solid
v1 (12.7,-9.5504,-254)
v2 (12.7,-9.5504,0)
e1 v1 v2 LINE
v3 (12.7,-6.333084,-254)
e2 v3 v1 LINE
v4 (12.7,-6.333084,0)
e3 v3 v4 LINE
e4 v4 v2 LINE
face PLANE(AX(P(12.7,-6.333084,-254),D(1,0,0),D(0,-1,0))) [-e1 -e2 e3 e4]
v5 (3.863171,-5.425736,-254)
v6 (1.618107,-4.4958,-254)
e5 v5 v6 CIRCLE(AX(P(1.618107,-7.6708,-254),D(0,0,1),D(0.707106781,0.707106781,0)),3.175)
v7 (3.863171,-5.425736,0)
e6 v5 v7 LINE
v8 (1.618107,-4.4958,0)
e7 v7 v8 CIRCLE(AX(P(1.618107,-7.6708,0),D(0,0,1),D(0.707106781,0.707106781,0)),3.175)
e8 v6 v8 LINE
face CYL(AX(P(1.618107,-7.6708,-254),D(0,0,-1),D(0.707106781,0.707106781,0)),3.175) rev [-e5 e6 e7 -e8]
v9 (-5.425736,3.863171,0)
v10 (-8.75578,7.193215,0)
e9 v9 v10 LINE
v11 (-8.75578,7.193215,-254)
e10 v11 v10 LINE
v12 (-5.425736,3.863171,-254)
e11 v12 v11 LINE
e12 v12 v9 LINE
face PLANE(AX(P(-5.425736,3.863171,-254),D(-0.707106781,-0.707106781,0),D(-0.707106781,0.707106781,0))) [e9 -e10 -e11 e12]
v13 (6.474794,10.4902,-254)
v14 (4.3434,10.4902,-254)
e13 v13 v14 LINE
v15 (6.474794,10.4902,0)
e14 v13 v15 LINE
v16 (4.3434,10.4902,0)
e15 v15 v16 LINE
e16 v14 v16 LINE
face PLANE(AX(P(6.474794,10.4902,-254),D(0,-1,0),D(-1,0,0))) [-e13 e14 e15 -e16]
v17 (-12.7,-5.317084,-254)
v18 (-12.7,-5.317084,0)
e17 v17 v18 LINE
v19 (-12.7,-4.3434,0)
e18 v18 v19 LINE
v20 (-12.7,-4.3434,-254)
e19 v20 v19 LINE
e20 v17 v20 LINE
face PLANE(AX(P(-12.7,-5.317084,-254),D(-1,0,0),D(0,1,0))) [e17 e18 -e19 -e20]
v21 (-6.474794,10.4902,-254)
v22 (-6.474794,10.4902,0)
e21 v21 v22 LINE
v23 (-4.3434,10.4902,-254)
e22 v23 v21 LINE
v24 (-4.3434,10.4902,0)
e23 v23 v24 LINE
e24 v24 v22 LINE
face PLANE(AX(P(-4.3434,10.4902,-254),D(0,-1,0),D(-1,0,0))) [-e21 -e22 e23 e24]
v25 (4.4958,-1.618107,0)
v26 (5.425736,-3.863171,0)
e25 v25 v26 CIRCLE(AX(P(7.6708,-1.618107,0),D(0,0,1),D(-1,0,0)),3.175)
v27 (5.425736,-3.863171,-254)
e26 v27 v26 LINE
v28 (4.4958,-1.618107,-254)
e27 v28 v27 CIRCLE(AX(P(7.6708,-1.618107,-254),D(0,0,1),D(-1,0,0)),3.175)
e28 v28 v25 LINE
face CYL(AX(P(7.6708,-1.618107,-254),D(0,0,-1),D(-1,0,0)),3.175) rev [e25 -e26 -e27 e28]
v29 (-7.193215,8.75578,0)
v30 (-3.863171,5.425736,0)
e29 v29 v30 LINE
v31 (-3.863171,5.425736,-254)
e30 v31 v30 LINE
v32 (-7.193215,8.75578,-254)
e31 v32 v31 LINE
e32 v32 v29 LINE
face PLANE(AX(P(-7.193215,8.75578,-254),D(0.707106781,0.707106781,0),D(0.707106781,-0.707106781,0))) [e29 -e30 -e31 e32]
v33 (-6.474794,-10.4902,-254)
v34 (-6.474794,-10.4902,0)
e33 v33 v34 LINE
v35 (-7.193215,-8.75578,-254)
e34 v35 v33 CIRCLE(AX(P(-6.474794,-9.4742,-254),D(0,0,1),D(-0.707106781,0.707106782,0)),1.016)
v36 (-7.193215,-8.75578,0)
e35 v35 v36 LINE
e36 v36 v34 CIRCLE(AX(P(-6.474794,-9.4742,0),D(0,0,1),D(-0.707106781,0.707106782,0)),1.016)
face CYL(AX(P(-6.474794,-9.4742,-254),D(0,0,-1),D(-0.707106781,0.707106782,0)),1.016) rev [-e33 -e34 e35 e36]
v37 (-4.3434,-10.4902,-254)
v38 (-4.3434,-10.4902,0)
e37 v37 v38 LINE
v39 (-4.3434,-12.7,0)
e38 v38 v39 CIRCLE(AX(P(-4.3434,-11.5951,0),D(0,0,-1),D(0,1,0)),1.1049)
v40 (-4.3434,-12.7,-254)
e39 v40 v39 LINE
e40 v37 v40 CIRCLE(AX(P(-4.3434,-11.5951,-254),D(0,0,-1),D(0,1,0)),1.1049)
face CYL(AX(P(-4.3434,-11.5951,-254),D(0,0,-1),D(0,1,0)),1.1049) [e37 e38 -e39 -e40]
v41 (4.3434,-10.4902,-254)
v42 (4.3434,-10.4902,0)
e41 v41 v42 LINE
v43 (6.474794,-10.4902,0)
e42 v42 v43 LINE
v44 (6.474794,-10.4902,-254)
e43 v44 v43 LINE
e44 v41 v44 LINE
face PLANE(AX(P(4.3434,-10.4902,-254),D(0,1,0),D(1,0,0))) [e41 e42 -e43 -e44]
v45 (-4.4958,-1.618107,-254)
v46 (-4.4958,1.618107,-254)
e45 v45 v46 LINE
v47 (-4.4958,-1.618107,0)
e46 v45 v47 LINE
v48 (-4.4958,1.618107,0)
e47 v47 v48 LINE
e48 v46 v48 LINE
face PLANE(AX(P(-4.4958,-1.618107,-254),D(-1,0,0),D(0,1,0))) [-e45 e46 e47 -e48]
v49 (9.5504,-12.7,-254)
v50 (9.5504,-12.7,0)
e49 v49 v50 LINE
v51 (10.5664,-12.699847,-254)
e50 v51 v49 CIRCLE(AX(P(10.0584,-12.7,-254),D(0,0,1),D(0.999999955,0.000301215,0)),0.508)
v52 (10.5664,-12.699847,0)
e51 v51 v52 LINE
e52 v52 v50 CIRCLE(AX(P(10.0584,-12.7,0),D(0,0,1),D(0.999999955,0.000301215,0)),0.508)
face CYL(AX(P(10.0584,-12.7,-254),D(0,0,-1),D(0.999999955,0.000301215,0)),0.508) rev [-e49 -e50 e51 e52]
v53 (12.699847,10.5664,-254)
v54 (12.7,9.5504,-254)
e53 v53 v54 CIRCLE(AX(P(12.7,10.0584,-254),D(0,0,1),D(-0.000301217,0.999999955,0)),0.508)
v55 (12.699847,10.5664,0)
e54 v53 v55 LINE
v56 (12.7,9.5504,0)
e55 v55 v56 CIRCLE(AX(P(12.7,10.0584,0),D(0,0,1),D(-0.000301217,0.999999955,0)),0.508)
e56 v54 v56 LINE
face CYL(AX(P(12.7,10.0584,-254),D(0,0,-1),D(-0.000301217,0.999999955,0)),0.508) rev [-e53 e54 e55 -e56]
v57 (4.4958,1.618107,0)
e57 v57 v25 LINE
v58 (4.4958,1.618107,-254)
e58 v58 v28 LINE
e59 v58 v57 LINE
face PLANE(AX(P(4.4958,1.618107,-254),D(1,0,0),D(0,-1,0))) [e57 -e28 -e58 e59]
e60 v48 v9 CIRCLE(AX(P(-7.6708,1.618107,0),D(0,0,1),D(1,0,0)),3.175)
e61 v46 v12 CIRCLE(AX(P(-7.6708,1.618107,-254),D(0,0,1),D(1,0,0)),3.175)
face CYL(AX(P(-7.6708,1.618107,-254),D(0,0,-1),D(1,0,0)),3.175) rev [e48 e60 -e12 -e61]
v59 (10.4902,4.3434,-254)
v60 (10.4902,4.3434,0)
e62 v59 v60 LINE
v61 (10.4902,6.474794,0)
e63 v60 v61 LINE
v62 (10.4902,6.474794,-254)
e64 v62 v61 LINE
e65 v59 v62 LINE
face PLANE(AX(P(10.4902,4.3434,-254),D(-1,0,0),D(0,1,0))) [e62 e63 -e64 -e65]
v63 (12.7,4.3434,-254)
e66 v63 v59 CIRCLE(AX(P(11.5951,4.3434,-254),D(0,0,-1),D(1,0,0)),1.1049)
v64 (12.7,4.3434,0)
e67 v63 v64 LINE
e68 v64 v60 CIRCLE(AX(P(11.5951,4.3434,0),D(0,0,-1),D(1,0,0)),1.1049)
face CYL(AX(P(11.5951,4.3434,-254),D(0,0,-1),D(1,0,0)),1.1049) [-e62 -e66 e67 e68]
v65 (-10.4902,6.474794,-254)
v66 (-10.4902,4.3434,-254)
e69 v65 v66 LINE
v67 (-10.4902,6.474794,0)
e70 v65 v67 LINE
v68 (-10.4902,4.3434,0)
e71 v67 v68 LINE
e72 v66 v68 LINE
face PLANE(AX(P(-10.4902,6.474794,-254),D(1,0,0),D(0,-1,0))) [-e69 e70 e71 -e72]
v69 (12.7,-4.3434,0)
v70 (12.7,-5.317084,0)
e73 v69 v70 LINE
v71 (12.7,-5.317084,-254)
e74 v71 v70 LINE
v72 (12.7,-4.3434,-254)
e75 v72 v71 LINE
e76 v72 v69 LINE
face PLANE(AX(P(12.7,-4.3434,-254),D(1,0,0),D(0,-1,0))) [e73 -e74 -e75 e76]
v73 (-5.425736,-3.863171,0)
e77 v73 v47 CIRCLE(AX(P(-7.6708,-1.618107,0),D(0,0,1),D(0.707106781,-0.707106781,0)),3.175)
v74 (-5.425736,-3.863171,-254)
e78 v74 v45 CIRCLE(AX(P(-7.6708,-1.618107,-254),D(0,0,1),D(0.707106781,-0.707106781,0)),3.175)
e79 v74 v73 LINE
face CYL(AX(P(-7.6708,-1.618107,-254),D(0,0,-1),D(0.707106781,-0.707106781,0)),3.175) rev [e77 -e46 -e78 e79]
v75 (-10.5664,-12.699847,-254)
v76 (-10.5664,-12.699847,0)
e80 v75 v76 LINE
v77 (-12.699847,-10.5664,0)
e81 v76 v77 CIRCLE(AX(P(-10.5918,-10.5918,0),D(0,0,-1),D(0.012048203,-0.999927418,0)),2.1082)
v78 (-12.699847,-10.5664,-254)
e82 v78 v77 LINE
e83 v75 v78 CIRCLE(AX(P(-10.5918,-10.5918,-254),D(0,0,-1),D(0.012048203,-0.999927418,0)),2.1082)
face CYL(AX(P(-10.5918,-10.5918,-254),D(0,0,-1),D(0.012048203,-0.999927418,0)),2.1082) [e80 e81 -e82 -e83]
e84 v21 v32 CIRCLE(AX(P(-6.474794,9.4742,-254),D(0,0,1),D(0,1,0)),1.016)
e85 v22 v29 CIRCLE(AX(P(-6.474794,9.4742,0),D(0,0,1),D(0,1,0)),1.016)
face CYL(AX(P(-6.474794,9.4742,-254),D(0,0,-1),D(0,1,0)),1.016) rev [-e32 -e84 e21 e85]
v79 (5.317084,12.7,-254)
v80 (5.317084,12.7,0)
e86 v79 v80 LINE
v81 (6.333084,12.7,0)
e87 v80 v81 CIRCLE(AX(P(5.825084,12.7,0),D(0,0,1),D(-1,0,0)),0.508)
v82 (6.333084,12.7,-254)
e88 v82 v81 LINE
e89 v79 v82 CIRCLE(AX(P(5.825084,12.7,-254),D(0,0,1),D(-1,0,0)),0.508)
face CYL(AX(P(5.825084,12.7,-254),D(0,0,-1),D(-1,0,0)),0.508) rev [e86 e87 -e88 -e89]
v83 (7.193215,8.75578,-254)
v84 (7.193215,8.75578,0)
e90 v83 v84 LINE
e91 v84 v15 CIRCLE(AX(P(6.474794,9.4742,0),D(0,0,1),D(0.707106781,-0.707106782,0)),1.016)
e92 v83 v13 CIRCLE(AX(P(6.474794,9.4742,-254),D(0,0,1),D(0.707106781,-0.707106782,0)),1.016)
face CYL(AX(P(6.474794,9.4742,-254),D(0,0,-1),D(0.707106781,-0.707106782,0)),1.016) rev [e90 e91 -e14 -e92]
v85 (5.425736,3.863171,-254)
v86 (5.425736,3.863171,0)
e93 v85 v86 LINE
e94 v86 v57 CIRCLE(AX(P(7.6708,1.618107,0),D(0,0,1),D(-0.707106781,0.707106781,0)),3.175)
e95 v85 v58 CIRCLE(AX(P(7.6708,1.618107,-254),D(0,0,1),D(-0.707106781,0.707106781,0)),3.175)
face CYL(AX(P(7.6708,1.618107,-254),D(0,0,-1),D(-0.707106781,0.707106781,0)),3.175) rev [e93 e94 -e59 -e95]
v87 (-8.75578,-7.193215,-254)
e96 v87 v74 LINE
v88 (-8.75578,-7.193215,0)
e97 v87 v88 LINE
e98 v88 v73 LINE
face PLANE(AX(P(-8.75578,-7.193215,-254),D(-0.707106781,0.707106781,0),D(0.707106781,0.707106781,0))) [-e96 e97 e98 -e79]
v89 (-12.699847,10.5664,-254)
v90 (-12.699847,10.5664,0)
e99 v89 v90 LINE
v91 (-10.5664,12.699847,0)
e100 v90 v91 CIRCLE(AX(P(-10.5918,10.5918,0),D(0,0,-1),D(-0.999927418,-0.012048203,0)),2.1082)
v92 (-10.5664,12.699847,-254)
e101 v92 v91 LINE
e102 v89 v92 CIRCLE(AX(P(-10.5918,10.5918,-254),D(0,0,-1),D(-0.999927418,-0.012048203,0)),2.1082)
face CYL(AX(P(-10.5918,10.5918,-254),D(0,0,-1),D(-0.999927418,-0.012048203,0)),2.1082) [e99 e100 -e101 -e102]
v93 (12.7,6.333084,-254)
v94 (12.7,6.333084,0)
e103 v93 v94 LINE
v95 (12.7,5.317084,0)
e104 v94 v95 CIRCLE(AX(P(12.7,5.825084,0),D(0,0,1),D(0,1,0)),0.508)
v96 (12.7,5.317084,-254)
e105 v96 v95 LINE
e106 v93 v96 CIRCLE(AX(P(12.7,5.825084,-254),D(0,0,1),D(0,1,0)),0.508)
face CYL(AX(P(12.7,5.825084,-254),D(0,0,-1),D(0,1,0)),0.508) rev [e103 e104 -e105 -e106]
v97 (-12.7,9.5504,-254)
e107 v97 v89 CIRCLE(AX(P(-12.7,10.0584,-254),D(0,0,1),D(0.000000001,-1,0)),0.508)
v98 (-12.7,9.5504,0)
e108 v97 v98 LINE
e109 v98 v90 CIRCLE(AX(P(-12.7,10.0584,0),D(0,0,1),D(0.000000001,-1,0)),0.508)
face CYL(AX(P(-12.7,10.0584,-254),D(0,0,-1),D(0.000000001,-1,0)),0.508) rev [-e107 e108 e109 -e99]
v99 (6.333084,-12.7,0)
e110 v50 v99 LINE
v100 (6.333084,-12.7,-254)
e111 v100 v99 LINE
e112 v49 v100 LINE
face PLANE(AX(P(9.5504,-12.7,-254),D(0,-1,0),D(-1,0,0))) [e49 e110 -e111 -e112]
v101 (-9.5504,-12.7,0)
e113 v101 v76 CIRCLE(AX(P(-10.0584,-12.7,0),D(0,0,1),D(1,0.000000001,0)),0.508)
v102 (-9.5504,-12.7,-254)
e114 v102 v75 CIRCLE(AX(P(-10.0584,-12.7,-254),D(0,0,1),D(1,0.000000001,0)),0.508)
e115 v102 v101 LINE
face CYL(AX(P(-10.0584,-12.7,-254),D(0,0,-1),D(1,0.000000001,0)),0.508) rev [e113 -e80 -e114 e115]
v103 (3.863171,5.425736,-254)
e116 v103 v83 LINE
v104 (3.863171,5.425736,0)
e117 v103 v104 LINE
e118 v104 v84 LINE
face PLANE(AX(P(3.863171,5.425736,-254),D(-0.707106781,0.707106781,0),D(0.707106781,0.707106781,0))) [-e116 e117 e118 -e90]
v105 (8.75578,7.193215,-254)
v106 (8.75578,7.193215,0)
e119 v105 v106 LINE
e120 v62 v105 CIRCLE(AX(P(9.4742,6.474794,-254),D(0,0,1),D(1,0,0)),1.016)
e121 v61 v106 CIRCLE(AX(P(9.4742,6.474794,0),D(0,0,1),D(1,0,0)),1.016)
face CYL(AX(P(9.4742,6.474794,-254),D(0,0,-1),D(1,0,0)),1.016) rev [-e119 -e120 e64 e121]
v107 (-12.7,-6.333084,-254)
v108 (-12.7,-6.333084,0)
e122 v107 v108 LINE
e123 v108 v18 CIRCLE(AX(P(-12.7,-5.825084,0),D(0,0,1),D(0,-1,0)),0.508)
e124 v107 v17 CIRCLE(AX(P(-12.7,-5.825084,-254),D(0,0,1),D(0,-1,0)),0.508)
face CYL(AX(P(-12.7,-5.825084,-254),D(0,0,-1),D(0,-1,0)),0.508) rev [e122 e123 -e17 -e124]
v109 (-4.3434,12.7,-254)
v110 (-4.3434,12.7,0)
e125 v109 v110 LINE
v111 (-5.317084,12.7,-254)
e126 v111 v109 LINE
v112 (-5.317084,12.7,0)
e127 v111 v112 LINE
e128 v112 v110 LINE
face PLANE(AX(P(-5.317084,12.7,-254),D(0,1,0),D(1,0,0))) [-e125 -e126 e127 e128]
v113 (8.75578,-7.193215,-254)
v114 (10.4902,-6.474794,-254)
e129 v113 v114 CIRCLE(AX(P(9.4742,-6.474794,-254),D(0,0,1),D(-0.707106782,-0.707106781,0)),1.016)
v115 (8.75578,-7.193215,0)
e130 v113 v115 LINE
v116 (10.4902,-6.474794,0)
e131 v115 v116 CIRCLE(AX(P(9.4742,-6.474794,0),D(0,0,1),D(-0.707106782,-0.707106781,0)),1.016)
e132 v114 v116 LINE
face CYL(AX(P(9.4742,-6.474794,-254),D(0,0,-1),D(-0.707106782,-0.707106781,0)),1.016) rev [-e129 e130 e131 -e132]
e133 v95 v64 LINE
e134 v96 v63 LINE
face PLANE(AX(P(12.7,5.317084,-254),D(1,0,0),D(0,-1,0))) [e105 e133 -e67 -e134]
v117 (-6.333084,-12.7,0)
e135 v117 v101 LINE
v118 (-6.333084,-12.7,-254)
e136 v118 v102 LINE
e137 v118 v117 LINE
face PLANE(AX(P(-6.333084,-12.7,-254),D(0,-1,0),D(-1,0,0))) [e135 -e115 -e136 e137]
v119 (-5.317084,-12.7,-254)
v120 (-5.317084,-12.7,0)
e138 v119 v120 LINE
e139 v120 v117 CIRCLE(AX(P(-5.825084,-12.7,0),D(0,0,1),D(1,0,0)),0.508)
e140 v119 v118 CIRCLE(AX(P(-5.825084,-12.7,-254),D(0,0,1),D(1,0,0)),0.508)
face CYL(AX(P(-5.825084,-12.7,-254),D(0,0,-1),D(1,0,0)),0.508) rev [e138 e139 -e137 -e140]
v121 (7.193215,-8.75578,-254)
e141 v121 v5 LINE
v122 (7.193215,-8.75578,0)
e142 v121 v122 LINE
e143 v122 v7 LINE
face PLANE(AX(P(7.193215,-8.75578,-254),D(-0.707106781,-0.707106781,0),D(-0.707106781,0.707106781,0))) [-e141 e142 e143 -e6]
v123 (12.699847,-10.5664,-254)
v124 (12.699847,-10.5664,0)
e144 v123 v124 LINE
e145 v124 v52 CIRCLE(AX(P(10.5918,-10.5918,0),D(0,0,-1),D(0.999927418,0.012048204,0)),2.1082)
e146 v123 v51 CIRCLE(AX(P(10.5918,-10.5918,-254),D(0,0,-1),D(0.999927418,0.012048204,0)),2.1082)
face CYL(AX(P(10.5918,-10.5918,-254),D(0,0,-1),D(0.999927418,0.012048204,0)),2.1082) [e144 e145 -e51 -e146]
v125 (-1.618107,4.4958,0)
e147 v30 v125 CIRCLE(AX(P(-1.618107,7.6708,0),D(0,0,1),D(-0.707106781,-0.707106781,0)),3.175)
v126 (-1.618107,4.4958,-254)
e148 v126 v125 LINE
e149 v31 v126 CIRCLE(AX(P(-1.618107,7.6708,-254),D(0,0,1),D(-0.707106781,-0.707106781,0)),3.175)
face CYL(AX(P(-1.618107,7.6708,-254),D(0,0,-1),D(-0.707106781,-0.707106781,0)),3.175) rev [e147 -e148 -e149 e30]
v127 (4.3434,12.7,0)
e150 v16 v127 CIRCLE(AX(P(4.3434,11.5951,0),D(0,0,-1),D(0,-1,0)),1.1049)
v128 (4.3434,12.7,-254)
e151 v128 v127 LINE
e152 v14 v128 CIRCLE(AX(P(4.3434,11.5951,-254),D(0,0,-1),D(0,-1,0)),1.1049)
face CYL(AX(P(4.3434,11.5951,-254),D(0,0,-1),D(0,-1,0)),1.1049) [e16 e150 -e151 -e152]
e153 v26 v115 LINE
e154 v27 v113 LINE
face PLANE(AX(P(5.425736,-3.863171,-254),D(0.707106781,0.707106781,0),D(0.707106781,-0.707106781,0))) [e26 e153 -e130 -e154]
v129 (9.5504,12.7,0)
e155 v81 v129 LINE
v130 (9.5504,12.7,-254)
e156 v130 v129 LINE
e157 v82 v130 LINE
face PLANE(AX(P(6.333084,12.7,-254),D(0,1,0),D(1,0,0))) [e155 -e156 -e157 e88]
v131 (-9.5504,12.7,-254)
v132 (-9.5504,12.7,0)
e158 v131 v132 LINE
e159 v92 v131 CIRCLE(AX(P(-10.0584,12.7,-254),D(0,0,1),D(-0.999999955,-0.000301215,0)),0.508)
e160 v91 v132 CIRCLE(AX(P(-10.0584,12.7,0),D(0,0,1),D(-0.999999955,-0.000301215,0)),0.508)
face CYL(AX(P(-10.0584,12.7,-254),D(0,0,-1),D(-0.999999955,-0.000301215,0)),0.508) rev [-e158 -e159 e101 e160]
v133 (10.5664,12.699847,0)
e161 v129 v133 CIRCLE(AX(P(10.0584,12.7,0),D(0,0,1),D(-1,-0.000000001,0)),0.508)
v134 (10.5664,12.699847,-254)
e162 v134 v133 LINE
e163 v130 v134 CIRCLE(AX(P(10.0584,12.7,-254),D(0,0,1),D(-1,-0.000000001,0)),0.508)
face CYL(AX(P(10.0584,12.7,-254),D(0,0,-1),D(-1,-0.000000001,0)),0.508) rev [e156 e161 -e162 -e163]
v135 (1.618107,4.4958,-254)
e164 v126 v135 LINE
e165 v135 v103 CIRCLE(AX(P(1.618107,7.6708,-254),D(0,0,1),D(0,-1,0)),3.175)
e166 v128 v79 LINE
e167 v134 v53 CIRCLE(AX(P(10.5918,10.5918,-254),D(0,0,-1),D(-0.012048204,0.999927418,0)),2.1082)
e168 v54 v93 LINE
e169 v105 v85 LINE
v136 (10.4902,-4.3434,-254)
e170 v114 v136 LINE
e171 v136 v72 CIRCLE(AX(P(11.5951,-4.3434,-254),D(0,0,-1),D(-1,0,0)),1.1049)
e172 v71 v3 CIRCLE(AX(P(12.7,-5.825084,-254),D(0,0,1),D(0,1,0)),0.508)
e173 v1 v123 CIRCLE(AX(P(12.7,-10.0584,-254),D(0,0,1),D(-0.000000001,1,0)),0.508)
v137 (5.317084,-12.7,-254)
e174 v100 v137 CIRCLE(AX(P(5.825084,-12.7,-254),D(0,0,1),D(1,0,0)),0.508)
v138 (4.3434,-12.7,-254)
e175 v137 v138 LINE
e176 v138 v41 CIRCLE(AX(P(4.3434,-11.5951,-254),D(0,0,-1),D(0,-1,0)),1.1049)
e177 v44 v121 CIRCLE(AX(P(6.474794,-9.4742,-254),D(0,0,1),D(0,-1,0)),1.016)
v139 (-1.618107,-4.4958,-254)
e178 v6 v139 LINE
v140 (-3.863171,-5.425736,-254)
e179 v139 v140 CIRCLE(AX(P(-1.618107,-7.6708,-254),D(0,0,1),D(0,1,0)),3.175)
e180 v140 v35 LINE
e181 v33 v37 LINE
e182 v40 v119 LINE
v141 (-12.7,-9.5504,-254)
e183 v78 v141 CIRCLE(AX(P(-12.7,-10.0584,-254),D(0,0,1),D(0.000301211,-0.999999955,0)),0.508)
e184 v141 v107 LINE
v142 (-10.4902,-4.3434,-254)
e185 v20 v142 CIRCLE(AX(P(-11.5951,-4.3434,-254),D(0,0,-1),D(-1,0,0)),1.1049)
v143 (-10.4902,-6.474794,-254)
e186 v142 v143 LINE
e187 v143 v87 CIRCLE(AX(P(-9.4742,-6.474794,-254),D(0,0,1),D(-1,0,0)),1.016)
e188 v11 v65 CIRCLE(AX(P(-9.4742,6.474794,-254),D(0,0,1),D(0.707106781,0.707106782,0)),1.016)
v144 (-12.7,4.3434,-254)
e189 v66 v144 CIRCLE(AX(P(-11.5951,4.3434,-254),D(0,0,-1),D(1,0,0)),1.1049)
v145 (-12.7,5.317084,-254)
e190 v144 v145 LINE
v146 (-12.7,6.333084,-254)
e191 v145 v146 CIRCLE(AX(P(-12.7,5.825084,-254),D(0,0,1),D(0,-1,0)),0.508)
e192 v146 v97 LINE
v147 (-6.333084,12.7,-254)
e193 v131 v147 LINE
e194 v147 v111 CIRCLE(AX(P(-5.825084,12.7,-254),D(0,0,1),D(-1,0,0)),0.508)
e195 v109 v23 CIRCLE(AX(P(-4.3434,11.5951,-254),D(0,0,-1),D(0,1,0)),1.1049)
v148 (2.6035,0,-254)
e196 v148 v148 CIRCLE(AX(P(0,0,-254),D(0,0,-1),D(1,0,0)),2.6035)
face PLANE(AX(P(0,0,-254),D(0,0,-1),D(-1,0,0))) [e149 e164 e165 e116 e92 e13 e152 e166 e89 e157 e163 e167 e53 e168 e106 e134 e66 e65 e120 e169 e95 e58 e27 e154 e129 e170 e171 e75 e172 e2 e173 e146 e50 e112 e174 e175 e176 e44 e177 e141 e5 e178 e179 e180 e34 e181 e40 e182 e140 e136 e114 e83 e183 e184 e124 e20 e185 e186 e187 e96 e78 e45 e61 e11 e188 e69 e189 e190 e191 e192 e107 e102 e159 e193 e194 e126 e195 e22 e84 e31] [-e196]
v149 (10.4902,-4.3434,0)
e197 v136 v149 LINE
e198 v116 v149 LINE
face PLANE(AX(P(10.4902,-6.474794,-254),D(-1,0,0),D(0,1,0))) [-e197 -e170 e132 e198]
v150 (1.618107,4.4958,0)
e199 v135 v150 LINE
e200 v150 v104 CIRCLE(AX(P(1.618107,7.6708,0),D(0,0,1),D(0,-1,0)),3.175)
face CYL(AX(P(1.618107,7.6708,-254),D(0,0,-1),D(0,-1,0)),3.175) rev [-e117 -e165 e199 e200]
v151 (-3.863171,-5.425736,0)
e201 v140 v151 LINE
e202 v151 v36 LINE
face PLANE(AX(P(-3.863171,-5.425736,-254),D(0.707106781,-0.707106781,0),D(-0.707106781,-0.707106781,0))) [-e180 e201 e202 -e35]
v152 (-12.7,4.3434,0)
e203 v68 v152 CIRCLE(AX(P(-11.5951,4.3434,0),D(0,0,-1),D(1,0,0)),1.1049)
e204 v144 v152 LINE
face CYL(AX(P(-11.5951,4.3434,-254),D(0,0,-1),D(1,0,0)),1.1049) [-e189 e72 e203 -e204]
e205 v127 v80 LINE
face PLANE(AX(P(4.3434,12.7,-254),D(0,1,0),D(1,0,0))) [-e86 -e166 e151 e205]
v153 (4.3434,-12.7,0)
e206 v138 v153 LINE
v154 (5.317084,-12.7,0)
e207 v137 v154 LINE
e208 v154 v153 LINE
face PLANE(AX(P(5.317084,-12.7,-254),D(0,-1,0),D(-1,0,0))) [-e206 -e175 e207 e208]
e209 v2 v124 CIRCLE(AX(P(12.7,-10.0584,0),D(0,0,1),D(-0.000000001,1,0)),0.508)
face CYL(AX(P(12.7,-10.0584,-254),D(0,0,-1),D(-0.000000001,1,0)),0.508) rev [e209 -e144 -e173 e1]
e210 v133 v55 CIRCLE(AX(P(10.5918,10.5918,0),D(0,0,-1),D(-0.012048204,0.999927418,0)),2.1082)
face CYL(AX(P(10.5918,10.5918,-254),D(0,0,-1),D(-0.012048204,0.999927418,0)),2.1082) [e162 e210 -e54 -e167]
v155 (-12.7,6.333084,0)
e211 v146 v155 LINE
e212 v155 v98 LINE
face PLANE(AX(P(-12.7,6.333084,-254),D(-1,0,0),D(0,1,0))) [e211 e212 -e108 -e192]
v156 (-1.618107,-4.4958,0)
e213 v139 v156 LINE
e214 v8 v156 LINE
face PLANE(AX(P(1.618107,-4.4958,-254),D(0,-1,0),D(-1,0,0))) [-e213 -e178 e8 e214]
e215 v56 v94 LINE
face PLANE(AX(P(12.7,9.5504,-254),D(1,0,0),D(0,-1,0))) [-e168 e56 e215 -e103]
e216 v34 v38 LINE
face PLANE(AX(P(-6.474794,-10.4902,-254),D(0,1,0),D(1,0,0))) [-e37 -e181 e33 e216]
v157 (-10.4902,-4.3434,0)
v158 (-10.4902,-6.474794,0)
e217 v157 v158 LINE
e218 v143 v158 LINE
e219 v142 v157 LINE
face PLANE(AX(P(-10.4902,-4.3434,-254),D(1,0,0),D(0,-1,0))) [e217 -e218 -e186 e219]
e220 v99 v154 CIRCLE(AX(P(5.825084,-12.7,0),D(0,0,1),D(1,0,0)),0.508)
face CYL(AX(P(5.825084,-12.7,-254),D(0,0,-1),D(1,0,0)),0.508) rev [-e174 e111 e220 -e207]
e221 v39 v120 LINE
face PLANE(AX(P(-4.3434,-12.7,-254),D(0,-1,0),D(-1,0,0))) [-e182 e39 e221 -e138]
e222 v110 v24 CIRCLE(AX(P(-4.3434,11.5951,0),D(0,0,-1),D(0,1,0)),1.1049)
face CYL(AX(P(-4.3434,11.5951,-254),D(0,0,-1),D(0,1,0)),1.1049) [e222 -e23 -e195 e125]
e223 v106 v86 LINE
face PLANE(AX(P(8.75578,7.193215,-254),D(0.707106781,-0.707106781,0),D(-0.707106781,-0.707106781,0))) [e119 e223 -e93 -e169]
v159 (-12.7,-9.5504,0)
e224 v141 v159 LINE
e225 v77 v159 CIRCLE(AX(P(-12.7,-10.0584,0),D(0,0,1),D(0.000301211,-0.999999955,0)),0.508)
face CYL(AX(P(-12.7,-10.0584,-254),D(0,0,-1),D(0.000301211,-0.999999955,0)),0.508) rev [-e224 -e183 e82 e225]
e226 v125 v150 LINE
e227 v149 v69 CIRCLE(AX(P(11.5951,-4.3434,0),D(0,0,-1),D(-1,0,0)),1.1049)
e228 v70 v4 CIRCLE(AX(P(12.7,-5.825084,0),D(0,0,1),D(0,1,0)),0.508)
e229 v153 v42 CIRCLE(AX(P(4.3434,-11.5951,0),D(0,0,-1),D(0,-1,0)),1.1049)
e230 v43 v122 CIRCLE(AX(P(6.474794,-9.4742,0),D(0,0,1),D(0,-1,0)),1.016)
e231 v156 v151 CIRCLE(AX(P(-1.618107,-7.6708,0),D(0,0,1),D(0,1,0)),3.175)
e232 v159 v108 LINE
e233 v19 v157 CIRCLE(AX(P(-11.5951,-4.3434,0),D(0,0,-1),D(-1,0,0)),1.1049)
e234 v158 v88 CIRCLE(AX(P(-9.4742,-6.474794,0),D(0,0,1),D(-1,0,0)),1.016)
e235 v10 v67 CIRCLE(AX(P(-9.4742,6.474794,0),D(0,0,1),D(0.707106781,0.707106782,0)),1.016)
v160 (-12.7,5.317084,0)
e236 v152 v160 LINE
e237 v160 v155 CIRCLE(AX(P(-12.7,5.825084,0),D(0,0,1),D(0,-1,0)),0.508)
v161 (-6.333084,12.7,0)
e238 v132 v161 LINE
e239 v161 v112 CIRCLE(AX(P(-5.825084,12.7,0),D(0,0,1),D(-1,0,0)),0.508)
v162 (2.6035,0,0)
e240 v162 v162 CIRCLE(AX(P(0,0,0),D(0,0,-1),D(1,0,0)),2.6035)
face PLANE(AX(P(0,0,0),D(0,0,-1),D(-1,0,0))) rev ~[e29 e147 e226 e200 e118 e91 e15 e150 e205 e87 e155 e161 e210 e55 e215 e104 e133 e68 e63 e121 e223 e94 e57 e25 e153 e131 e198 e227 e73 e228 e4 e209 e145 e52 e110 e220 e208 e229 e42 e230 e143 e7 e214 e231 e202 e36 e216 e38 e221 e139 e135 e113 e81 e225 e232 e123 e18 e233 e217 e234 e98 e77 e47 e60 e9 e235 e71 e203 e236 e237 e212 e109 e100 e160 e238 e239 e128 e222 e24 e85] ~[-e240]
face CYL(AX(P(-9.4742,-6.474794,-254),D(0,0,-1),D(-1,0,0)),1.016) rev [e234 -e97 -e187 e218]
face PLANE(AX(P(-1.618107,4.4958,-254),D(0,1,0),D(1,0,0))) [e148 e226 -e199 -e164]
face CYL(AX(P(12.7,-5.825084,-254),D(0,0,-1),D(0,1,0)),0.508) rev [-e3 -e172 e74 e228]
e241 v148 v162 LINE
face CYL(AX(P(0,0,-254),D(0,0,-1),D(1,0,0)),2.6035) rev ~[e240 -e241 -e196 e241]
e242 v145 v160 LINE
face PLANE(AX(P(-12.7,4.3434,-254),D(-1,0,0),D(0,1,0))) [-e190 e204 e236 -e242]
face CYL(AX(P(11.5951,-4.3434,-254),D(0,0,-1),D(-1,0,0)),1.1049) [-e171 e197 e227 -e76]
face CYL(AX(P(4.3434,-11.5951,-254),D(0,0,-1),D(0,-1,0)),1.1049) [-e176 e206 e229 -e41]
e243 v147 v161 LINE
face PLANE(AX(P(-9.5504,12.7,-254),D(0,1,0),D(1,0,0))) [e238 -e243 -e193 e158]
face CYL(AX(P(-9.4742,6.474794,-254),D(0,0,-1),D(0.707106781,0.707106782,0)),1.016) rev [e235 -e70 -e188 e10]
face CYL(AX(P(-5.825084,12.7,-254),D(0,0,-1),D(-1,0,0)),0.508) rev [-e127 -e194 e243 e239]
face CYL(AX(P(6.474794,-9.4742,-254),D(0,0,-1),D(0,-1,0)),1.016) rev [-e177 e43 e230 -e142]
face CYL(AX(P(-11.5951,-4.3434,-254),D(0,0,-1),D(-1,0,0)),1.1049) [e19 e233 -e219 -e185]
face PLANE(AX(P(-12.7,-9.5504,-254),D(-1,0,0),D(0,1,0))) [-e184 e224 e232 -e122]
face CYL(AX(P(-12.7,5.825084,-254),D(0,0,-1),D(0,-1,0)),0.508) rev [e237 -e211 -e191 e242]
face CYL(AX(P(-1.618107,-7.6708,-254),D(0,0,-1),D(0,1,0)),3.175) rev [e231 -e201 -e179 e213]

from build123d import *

# Parameters (mm, degrees)
SKETCH1_R           = 2.6035
BOSS_EXTRUDE1_DEPTH = 254


with BuildPart() as part:
    # Sketch1 → Boss-Extrude1 (new body)
    with BuildSketch(Plane(origin=(0, 0, -254), x_dir=(-1, 0, 0), z_dir=(0, 0, -1))):
        with BuildLine():
            Line((12.700000001, -9.550399995), (12.700000001, -6.333083598))
            ThreePointArc((12.700000001, -6.333083598), (12.192000001, -5.825083598), (12.700000001, -5.317083598))
            Line((12.700000001, -5.317083598), (12.700000001, -4.343399998))
            ThreePointArc((12.700000001, -4.343399998), (11.595100001, -3.238499998), (10.490200001, -4.343399998))
            Line((10.490200001, -4.343399998), (10.490200001, -6.474794454))
            ThreePointArc((10.490200001, -6.474794454), (9.863006368, -7.413456059), (8.755779511, -7.193214943))
            Line((8.755779511, -7.193214943), (5.425735971, -3.863171403))
            ThreePointArc((5.425735971, -3.863171403), (4.737482485, -2.83312727), (4.495800001, -1.618107372))
            Line((4.495800001, -1.618107372), (4.495800001, 1.618107372))
            ThreePointArc((4.495800001, 1.618107372), (4.737482485, 2.83312727), (5.425735971, 3.863171403))
            Line((5.425735971, 3.863171403), (8.755779512, 7.193214944))
            ThreePointArc((8.755779512, 7.193214944), (9.863006368, 7.413456059), (10.490200001, 6.474794455))
            Line((10.490200001, 6.474794455), (10.490200001, 4.343399973))
            ThreePointArc((10.490200001, 4.343399973), (11.595100001, 3.238499973), (12.700000001, 4.343399973))
            Line((12.700000001, 4.343399973), (12.700000001, 5.317083602))
            ThreePointArc((12.700000001, 5.317083602), (12.192000001, 5.825083602), (12.700000001, 6.333083602))
            Line((12.700000001, 6.333083602), (12.700000001, 9.550400003))
            ThreePointArc((12.700000001, 9.550400003), (12.192000008, 10.058323495), (12.699846987, 10.566399978))
            ThreePointArc((12.699846987, 10.566399978), (12.082522518, 12.08252252), (10.566399975, 12.699846984))
            ThreePointArc((10.566399975, 12.699846984), (10.058323492, 12.19200001), (9.550400004, 12.700000002))
            Line((9.550400004, 12.700000002), (6.333083601, 12.700000002))
            ThreePointArc((6.333083601, 12.700000002), (5.825083601, 12.192000002), (5.317083601, 12.700000002))
            Line((5.317083601, 12.700000002), (4.343400001, 12.700000002))
            ThreePointArc((4.343400001, 12.700000002), (3.238500001, 11.595100002), (4.343400001, 10.490200002))
            Line((4.343400001, 10.490200002), (6.474794457, 10.490200002))
            ThreePointArc((6.474794457, 10.490200002), (7.413456062, 9.863006369), (7.193214947, 8.755779512))
            Line((7.193214947, 8.755779512), (3.863171407, 5.425735972))
            ThreePointArc((3.863171407, 5.425735972), (2.833127274, 4.737482486), (1.618107376, 4.495800002))
            Line((1.618107376, 4.495800002), (-1.618107374, 4.495800002))
            ThreePointArc((-1.618107374, 4.495800002), (-2.833127271, 4.737482486), (-3.863171404, 5.425735972))
            Line((-3.863171404, 5.425735972), (-7.193214944, 8.755779512))
            ThreePointArc((-7.193214944, 8.755779512), (-7.41345606, 9.863006369), (-6.474794455, 10.490200002))
            Line((-6.474794455, 10.490200002), (-4.34339997, 10.490200002))
            ThreePointArc((-4.34339997, 10.490200002), (-3.23849997, 11.595100002), (-4.34339997, 12.700000002))
            Line((-4.34339997, 12.700000002), (-5.317083599, 12.700000002))
            ThreePointArc((-5.317083599, 12.700000002), (-5.825083599, 12.192000002), (-6.333083599, 12.700000002))
            Line((-6.333083599, 12.700000002), (-9.550399999, 12.700000002))
            ThreePointArc((-9.550399999, 12.700000002), (-10.058323491, 12.192000008), (-10.566399976, 12.699846986))
            ThreePointArc((-10.566399976, 12.699846986), (-12.082522518, 12.082522518), (-12.699846982, 10.566399974))
            ThreePointArc((-12.699846982, 10.566399974), (-12.192000009, 10.058323491), (-12.7, 9.550400003))
            Line((-12.7, 9.550400003), (-12.7, 6.3330836))
            ThreePointArc((-12.7, 6.3330836), (-12.192, 5.8250836), (-12.7, 5.3170836))
            Line((-12.7, 5.3170836), (-12.7, 4.3434))
            ThreePointArc((-12.7, 4.3434), (-11.5951, 3.2385), (-10.4902, 4.3434))
            Line((-10.4902, 4.3434), (-10.4902, 6.474794456))
            ThreePointArc((-10.4902, 6.474794456), (-9.863006367, 7.413456061), (-8.75577951, 7.193214945))
            Line((-8.75577951, 7.193214945), (-5.42573597, 3.863171405))
            ThreePointArc((-5.42573597, 3.863171405), (-4.737482484, 2.833127272), (-4.4958, 1.618107374))
            Line((-4.4958, 1.618107374), (-4.4958, -1.618107374))
            ThreePointArc((-4.4958, -1.618107374), (-4.737482484, -2.833127272), (-5.42573597, -3.863171405))
            Line((-5.42573597, -3.863171405), (-8.75577951, -7.193214945))
            ThreePointArc((-8.75577951, -7.193214945), (-9.863006367, -7.413456061), (-10.4902, -6.474794456))
            Line((-10.4902, -6.474794456), (-10.4902, -4.343399971))
            ThreePointArc((-10.4902, -4.343399971), (-11.5951, -3.238499971), (-12.7, -4.343399971))
            Line((-12.7, -4.343399971), (-12.7, -5.3170836))
            ThreePointArc((-12.7, -5.3170836), (-12.192, -5.8250836), (-12.7, -6.3330836))
            Line((-12.7, -6.3330836), (-12.7, -9.5504))
            ThreePointArc((-12.7, -9.5504), (-12.192000006, -10.058323492), (-12.699846984, -10.566399977))
            ThreePointArc((-12.699846984, -10.566399977), (-12.082522516, -12.082522519), (-10.566399972, -12.699846983))
            ThreePointArc((-10.566399972, -12.699846983), (-10.058323489, -12.192000009), (-9.550400001, -12.700000001))
            Line((-9.550400001, -12.700000001), (-6.333083598, -12.700000001))
            ThreePointArc((-6.333083598, -12.700000001), (-5.825083598, -12.192000001), (-5.317083598, -12.700000001))
            Line((-5.317083598, -12.700000001), (-4.343399998, -12.700000001))
            ThreePointArc((-4.343399998, -12.700000001), (-3.238499998, -11.595100001), (-4.343399998, -10.490200001))
            Line((-4.343399998, -10.490200001), (-6.474794454, -10.490200001))
            ThreePointArc((-6.474794454, -10.490200001), (-7.413456059, -9.863006368), (-7.193214943, -8.755779511))
            Line((-7.193214943, -8.755779511), (-3.863171403, -5.425735971))
            ThreePointArc((-3.863171403, -5.425735971), (-2.83312727, -4.737482485), (-1.618107372, -4.495800001))
            Line((-1.618107372, -4.495800001), (1.618107375, -4.495800001))
            ThreePointArc((1.618107375, -4.495800001), (2.833127273, -4.737482485), (3.863171406, -5.425735971))
            Line((3.863171406, -5.425735971), (7.193214946, -8.755779512))
            ThreePointArc((7.193214946, -8.755779512), (7.413456062, -9.863006368), (6.474794457, -10.490200001))
            Line((6.474794457, -10.490200001), (4.343399973, -10.490200001))
            ThreePointArc((4.343399973, -10.490200001), (3.238499973, -11.595100001), (4.343399973, -12.700000001))
            Line((4.343399973, -12.700000001), (5.317083602, -12.700000001))
            ThreePointArc((5.317083602, -12.700000001), (5.825083602, -12.192000001), (6.333083602, -12.700000001))
            Line((6.333083602, -12.700000001), (9.550400002, -12.700000001))
            ThreePointArc((9.550400002, -12.700000001), (10.058323494, -12.192000007), (10.566399979, -12.699846985))
            ThreePointArc((10.566399979, -12.699846985), (12.082522519, -12.082522518), (12.699846986, -10.566399978))
            ThreePointArc((12.699846986, -10.566399978), (12.192000004, -10.058323491), (12.700000001, -9.550399995))
        make_face()
        with Locations(Location((0, 0, 0), (0, 0, 180))):
            Circle(SKETCH1_R, mode=Mode.SUBTRACT)
    extrude(amount=-BOSS_EXTRUDE1_DEPTH)


solid = part.part
